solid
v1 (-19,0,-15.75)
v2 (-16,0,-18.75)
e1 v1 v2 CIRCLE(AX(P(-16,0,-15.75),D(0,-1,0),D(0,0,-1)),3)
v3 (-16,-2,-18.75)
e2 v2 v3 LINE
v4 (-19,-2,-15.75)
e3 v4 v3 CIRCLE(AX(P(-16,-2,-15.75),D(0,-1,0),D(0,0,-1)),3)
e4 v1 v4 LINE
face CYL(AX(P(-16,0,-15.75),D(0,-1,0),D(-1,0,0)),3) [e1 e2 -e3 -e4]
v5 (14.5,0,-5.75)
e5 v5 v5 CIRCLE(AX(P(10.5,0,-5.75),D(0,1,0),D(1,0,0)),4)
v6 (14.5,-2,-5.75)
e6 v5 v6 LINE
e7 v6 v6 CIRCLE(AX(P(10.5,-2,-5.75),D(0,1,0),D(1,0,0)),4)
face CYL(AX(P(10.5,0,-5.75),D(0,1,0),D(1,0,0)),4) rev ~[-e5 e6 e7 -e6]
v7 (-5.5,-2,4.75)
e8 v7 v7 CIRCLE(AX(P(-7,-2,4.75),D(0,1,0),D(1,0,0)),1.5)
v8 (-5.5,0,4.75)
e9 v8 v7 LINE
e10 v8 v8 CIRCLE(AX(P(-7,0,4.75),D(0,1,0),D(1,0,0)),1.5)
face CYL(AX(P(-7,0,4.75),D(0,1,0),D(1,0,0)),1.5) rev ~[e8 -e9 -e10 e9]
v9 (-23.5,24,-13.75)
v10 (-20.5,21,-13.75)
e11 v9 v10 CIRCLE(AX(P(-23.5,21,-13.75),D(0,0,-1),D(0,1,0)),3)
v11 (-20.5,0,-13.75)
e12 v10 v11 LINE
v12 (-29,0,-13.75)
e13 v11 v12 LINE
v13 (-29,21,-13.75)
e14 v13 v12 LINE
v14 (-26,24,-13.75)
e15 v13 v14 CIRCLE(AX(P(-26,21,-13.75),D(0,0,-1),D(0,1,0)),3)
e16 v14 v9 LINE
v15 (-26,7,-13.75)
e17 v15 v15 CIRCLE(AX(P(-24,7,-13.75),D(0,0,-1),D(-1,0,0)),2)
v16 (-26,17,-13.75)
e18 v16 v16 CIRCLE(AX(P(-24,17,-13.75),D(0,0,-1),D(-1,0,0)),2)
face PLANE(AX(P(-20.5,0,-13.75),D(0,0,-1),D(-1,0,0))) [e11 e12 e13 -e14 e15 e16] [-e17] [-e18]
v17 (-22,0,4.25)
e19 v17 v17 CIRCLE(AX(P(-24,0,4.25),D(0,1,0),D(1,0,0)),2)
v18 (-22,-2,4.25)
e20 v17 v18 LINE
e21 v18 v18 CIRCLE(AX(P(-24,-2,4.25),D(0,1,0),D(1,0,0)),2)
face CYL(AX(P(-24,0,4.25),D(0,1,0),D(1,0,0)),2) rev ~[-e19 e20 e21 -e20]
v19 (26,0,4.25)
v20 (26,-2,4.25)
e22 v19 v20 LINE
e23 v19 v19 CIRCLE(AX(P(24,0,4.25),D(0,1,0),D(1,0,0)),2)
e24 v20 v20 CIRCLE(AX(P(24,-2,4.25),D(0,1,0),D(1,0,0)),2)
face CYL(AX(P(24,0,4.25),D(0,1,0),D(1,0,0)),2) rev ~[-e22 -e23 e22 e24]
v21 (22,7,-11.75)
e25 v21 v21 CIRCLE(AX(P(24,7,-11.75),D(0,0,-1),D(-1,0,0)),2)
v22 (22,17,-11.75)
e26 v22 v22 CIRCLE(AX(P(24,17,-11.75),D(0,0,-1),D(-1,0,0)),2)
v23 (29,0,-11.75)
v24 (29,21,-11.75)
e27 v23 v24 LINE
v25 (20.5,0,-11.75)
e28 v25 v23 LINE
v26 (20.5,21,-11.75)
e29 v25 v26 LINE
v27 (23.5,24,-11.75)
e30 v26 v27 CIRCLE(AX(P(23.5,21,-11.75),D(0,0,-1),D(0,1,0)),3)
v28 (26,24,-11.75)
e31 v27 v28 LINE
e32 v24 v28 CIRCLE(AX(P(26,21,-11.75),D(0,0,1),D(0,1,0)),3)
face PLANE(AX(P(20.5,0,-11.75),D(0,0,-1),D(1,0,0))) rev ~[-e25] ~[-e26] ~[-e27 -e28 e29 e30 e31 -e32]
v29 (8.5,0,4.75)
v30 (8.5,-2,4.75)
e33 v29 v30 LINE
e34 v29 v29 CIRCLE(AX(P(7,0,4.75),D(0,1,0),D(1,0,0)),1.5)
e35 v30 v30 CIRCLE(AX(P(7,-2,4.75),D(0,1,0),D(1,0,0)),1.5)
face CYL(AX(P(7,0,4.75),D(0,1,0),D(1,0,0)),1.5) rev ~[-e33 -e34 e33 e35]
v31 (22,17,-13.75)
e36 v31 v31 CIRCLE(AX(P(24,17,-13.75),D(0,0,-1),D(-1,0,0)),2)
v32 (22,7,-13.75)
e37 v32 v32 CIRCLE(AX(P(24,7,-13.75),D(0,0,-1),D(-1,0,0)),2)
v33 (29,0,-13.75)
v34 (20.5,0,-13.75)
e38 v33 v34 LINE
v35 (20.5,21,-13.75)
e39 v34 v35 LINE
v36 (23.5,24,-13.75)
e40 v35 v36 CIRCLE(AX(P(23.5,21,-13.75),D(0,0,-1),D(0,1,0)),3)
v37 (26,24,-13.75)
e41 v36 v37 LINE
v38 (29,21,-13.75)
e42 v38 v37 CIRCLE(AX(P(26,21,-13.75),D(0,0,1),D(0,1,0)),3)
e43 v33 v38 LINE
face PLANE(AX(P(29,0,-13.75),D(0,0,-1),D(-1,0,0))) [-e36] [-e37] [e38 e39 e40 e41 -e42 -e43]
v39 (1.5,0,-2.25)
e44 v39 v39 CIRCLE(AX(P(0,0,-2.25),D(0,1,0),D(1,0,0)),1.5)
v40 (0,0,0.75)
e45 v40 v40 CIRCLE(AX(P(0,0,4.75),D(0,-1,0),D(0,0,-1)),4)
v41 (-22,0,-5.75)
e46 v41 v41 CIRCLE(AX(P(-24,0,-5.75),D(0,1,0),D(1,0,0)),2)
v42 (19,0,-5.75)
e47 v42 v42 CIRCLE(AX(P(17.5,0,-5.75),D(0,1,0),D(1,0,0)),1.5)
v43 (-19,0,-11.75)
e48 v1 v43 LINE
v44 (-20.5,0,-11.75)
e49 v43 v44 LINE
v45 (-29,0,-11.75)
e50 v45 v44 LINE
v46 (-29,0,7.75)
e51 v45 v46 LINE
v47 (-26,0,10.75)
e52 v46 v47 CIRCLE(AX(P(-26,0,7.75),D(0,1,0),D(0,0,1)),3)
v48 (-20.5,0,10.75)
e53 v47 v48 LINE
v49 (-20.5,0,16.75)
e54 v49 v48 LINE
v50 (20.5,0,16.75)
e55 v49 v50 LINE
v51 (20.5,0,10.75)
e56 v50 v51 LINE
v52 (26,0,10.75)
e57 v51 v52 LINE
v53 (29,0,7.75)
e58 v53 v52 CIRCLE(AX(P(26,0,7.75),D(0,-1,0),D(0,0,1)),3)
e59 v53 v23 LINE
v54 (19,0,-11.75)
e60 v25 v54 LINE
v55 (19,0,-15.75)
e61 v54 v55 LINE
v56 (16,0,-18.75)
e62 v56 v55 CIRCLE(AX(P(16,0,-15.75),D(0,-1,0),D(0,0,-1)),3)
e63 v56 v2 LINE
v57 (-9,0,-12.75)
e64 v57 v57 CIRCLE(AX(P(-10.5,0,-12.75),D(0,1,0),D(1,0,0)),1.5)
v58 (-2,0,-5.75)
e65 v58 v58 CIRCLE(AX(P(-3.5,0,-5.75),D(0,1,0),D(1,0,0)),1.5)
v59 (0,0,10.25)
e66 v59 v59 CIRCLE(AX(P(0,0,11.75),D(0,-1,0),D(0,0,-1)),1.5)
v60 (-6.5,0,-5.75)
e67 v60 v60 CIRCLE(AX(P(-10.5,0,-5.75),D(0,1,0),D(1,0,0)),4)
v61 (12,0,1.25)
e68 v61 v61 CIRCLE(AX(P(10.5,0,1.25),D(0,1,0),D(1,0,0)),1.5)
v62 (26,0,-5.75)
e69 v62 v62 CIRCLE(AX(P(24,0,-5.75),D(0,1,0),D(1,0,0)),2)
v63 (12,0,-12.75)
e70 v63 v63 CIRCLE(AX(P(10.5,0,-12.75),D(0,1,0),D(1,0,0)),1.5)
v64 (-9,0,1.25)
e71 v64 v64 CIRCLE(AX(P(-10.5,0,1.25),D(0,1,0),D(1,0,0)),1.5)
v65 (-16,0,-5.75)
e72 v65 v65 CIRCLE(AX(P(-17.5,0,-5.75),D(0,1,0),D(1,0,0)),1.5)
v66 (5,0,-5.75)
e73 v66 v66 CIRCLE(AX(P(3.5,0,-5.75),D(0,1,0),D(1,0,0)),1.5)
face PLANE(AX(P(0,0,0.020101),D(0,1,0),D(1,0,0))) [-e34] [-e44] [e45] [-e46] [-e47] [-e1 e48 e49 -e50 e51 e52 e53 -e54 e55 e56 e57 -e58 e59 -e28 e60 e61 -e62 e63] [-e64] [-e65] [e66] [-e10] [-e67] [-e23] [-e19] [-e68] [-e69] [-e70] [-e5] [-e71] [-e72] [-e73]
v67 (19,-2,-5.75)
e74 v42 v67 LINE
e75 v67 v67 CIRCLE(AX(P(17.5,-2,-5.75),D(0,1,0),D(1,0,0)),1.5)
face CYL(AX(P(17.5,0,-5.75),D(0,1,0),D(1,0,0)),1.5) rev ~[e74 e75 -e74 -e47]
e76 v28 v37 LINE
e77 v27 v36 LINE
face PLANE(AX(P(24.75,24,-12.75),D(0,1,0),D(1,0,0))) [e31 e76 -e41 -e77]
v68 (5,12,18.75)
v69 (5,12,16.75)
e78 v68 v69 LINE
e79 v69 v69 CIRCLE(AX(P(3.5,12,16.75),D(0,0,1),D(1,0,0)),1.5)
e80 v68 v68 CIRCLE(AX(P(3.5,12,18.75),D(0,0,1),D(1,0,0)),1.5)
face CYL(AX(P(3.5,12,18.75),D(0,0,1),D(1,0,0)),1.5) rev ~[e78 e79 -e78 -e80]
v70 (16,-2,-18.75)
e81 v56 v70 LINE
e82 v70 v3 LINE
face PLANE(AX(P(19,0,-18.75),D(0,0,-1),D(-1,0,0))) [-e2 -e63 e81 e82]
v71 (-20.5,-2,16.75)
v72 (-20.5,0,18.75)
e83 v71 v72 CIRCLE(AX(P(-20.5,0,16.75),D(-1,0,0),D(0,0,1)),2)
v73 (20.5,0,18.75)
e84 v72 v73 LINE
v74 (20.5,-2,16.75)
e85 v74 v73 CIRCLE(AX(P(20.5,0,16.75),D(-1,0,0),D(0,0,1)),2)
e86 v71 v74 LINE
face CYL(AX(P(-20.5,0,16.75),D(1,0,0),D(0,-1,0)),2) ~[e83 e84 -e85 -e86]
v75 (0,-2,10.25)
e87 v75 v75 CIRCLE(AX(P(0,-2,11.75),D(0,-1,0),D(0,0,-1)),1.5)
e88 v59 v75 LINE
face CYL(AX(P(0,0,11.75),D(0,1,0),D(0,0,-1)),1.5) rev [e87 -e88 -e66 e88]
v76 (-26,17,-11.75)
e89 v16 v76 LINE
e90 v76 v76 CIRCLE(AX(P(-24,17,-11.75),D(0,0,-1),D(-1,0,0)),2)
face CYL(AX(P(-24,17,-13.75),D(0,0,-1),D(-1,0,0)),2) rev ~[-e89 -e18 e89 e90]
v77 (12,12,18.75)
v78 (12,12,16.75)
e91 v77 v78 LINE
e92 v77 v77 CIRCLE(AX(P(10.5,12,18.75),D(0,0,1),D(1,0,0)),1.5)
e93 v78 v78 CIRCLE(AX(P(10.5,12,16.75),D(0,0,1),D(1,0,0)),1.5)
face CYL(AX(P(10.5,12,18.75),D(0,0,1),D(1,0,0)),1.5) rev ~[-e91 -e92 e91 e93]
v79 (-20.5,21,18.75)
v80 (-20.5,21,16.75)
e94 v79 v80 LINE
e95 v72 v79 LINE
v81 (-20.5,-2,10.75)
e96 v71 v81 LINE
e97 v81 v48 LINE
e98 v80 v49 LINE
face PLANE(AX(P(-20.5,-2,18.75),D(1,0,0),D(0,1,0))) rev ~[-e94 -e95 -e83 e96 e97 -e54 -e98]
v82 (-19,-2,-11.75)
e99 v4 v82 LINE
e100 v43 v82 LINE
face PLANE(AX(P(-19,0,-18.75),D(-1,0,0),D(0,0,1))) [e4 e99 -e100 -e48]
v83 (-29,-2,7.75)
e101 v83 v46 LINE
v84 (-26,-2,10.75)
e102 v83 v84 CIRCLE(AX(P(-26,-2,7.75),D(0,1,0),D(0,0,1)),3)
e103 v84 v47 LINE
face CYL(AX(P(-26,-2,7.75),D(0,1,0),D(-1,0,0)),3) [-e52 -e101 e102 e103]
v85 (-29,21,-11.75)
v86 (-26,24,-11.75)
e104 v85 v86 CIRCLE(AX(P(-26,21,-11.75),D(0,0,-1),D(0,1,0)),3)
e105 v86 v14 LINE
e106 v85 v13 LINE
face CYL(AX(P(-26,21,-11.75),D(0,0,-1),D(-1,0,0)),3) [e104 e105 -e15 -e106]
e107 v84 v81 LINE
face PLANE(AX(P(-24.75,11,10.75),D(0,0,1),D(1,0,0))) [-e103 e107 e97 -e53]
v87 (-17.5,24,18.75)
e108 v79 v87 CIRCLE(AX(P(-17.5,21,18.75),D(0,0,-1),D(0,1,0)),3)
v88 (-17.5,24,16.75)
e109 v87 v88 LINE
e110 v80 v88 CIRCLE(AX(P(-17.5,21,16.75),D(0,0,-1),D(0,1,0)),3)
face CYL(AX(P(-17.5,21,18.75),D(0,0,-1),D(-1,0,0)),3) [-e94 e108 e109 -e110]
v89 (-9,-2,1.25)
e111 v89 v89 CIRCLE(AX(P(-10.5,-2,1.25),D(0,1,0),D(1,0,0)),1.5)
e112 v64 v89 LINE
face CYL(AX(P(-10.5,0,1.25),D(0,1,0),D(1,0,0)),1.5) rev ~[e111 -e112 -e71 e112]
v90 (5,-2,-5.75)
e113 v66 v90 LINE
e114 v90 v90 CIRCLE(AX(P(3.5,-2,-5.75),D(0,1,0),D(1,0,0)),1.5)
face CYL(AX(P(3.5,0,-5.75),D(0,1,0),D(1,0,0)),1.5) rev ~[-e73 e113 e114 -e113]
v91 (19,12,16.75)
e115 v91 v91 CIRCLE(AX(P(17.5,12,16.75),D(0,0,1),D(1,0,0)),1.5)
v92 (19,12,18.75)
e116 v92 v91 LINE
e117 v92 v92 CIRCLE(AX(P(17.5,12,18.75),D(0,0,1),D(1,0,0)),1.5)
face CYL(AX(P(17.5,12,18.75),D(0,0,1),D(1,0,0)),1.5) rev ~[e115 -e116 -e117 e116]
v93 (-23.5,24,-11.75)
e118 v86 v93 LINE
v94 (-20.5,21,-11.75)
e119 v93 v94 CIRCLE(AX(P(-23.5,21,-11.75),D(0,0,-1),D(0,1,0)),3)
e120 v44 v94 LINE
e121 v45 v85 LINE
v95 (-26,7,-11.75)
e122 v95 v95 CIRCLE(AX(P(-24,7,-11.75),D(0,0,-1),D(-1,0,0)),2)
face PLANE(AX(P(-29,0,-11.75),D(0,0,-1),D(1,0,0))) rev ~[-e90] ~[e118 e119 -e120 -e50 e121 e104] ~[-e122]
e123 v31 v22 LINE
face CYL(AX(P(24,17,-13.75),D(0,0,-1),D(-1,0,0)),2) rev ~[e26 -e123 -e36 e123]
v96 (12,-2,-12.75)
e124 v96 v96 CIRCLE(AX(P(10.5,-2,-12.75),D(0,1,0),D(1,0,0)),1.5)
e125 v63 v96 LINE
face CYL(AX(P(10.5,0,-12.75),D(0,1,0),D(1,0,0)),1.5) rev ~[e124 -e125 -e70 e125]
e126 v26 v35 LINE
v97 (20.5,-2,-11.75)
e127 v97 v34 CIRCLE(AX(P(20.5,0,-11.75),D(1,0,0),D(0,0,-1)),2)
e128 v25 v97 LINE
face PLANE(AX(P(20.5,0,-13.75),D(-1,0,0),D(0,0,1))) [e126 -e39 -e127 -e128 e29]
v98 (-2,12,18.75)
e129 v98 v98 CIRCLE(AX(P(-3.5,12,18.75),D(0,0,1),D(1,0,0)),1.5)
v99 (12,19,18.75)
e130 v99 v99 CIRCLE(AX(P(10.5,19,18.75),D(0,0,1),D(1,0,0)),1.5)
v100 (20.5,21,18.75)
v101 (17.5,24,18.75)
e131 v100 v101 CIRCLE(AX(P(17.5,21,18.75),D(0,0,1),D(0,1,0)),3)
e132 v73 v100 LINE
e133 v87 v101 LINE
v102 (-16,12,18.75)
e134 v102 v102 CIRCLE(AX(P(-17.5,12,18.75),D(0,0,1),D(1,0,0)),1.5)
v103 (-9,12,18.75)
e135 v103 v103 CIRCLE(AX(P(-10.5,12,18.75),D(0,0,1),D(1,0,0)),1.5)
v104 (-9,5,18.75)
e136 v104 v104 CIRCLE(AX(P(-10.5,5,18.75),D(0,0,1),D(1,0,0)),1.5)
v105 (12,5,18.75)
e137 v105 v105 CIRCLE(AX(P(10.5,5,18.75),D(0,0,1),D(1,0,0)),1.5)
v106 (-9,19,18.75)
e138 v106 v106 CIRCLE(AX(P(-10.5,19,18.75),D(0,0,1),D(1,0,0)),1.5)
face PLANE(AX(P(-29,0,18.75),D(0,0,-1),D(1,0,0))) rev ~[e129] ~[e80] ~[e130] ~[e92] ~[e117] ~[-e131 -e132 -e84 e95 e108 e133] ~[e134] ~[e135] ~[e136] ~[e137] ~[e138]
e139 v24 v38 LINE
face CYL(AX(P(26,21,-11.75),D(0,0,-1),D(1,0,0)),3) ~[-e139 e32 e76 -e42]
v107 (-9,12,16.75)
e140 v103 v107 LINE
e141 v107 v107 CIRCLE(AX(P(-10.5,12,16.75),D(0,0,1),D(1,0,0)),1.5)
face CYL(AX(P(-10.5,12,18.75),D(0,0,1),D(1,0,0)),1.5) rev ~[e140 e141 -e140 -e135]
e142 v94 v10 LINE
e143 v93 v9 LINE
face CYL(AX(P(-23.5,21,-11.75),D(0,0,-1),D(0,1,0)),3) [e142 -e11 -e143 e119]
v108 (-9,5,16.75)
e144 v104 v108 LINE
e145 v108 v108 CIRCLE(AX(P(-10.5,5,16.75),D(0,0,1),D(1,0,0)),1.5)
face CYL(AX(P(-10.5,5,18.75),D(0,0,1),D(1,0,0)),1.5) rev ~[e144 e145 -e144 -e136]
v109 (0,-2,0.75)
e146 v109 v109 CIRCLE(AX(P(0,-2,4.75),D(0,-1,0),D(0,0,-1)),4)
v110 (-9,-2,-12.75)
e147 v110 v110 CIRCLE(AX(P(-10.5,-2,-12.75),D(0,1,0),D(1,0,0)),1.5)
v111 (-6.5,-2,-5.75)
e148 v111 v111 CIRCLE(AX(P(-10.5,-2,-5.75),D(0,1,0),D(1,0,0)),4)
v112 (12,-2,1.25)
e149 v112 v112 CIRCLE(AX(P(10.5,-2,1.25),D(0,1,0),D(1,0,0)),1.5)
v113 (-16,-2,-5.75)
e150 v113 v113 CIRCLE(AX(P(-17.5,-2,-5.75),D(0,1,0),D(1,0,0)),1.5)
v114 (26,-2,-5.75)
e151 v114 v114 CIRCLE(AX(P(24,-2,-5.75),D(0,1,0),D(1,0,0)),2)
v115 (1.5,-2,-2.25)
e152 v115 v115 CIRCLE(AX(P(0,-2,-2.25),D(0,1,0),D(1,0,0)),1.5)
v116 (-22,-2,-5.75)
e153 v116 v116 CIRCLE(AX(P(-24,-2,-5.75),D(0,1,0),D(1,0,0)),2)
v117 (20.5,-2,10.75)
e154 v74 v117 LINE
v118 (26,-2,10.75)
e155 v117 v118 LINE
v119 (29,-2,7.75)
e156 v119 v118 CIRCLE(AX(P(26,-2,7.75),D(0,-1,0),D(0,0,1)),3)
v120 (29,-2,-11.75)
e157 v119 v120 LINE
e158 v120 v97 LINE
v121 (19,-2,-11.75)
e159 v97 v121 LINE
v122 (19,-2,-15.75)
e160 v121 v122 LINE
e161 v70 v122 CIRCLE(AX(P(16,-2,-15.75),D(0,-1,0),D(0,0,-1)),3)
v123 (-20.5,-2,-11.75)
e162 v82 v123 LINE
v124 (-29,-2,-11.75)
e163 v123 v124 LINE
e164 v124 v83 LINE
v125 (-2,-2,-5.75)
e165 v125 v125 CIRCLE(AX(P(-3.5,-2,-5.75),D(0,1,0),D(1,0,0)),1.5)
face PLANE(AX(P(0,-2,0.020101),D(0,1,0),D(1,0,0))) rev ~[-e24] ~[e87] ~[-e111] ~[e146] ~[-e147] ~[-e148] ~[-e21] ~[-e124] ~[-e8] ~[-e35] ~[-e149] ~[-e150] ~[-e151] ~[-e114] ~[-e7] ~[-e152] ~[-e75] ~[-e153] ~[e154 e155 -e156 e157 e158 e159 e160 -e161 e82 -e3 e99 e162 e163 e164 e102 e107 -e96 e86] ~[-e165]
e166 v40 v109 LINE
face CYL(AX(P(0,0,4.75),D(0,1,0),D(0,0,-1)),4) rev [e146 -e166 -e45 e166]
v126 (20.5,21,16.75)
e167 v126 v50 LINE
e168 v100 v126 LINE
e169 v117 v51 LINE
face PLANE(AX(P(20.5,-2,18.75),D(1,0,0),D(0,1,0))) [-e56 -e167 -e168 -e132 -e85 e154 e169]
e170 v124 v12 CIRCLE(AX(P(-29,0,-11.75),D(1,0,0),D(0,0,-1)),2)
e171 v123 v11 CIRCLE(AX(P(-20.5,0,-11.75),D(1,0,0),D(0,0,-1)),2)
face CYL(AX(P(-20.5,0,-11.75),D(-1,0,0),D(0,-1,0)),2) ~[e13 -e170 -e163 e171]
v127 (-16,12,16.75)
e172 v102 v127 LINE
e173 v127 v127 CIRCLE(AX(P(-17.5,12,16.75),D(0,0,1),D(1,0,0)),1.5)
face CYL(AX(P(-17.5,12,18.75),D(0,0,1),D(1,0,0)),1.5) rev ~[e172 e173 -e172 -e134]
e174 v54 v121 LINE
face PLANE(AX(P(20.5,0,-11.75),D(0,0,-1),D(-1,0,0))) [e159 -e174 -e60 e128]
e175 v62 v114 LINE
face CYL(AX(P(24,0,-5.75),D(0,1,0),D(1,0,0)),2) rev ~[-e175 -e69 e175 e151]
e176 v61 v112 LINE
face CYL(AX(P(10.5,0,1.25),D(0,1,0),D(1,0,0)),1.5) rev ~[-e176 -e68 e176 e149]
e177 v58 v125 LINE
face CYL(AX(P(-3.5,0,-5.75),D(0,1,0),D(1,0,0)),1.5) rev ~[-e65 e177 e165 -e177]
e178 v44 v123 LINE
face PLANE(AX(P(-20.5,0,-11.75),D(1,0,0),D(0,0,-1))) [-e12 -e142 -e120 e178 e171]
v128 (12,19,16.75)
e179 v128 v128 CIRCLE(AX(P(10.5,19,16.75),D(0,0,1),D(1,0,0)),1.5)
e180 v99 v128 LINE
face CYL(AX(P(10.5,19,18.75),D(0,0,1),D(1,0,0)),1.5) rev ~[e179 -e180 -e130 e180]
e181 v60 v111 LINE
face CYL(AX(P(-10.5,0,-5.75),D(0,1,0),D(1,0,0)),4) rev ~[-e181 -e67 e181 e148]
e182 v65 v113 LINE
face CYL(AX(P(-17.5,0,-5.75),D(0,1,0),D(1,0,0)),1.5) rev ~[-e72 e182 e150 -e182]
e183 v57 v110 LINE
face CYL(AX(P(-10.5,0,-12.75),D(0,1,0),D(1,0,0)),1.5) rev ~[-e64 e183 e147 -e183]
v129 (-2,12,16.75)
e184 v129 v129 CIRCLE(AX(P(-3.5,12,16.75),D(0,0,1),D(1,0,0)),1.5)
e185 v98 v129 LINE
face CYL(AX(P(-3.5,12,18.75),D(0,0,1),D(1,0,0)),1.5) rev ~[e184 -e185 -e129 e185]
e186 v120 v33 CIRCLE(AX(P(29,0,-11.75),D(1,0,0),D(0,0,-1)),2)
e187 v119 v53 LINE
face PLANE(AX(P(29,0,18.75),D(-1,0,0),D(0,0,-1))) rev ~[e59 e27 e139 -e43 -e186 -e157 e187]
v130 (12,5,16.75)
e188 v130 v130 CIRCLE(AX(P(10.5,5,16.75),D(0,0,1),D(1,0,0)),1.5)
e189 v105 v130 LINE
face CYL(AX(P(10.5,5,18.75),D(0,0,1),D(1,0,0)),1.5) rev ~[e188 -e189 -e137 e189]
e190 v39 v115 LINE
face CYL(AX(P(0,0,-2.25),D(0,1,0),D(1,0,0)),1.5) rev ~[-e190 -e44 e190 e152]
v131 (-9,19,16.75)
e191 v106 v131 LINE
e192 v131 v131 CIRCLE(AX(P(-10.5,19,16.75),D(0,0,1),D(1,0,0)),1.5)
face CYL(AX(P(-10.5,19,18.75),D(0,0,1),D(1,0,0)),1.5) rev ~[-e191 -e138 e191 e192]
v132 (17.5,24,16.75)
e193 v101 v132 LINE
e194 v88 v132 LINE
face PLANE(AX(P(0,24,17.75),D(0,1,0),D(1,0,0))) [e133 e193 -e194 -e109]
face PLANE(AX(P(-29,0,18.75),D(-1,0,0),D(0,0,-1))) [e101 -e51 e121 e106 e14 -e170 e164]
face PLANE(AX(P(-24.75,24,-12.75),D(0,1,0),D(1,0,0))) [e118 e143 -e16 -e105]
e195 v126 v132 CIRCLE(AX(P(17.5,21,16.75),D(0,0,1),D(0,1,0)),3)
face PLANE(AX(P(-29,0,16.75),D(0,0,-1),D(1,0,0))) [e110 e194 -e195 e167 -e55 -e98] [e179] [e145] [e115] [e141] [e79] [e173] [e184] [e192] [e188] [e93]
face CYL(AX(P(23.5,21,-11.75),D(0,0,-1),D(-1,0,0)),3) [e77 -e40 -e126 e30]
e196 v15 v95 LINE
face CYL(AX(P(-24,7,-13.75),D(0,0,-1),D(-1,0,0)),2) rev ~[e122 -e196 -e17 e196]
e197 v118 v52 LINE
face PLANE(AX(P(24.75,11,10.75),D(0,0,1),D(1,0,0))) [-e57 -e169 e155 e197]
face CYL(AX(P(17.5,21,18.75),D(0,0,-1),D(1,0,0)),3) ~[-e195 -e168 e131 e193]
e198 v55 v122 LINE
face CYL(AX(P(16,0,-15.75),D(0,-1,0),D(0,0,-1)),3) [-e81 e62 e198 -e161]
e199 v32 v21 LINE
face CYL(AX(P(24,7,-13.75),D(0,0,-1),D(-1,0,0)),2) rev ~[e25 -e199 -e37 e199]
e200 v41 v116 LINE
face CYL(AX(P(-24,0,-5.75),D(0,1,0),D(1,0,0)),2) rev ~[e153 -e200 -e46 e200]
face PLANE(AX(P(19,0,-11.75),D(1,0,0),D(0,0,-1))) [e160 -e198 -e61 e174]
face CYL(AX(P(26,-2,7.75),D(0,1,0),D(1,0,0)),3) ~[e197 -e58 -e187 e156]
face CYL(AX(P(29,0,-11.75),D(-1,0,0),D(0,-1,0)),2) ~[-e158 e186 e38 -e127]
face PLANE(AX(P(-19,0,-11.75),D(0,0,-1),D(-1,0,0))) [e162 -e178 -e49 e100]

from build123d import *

# Parameters (mm, degrees)
SKETCH_2_R          = 2
SKETCH_2_R_2        = 1.5
SKETCH_2_R_3        = 4
EXTRUDE_1_DEPTH     = 2
SKETCH_1_W          = 58
SKETCH_1_H          = 2
SKETCH_1_W_2        = 8.5
EXTRUDE_2_DEPTH     = 24
SKETCH_3_R          = 2
CUT_EXTRUDE_1_DEPTH = 12
FILLET_1_R          = 3
SKETCH_4_R          = 1.5
CUT_EXTRUDE_2_DEPTH = 12
SKETCH_5_W          = 8.5
SKETCH_5_H          = 26
CUT_EXTRUDE_3_DEPTH = 8
FILLET_2_R          = 3
FILLET_3_R          = 2


with BuildPart() as part:
    # 草图2 → 凸台-拉伸1 (new body)
    with BuildSketch(Plane(origin=(0, 0, 0), x_dir=(1, 0, 0), z_dir=(0, 1, 0))):
        Polygon((-29, -18.75), (29, -18.75), (29, 13.75), (20.5, 13.75), (20.5, 11.75), (19, 11.75), (19, 18.75), (-19, 18.75), (-19, 11.75), (-20.5, 11.75), (-20.5, 13.75), (-29, 13.75), align=None)
        with BuildLine():
            ThreePointArc((0, -13.25), (-1.5, -11.75), (0, -10.25))
            ThreePointArc((0, -10.25), (1.5, -11.75), (0, -13.25))
        make_face(mode=Mode.SUBTRACT)
        with Locations((-24, -4.25)):
            Circle(SKETCH_2_R, mode=Mode.SUBTRACT)
        with Locations((-7, -4.75)):
            Circle(SKETCH_2_R_2, mode=Mode.SUBTRACT)
        with BuildLine():
            ThreePointArc((0, -8.75), (-4, -4.75), (0, -0.75))
            ThreePointArc((0, -0.75), (4, -4.75), (0, -8.75))
        make_face(mode=Mode.SUBTRACT)
        with Locations((-10.5, -1.25)):
            Circle(SKETCH_2_R_2, mode=Mode.SUBTRACT)
        with Locations((7, -4.75)):
            Circle(SKETCH_2_R_2, mode=Mode.SUBTRACT)
        with Locations((10.5, -1.25)):
            Circle(SKETCH_2_R_2, mode=Mode.SUBTRACT)
        with Locations((24, -4.25)):
            Circle(SKETCH_2_R, mode=Mode.SUBTRACT)
        with Locations((-24, 5.75)):
            Circle(SKETCH_2_R, mode=Mode.SUBTRACT)
        with Locations((-17.5, 5.75)):
            Circle(SKETCH_2_R_2, mode=Mode.SUBTRACT)
        with Locations((0, 2.25)):
            Circle(SKETCH_2_R_2, mode=Mode.SUBTRACT)
        with Locations((-10.5, 5.75)):
            Circle(SKETCH_2_R_3, mode=Mode.SUBTRACT)
        with Locations((-3.5, 5.75)):
            Circle(SKETCH_2_R_2, mode=Mode.SUBTRACT)
        with Locations((-10.5, 12.75)):
            Circle(SKETCH_2_R_2, mode=Mode.SUBTRACT)
        with Locations((3.5, 5.75)):
            Circle(SKETCH_2_R_2, mode=Mode.SUBTRACT)
        with Locations((10.5, 5.75)):
            Circle(SKETCH_2_R_3, mode=Mode.SUBTRACT)
        with Locations((17.5, 5.75)):
            Circle(SKETCH_2_R_2, mode=Mode.SUBTRACT)
        with Locations((24, 5.75)):
            Circle(SKETCH_2_R, mode=Mode.SUBTRACT)
        with Locations((10.5, 12.75)):
            Circle(SKETCH_2_R_2, mode=Mode.SUBTRACT)
    extrude(amount=-EXTRUDE_1_DEPTH)

    # 草图1 → 凸台-拉伸2 (add)
    with BuildSketch(Plane(origin=(0, 0, 0), x_dir=(1, 0, 0), z_dir=(0, 1, 0))):
        with Locations((0, -17.75)):
            Rectangle(SKETCH_1_W, SKETCH_1_H)
        with Locations((-24.75, 12.75)):
            Rectangle(SKETCH_1_W_2, SKETCH_1_H)
        with Locations((24.75, 12.75)):
            Rectangle(SKETCH_1_W_2, SKETCH_1_H)
    extrude(amount=EXTRUDE_2_DEPTH)

    # 草图3 → 切除-拉伸1 (cut)
    with BuildSketch(Plane(origin=(0, 0, -13.75), x_dir=(-1, 0, 0), z_dir=(0, 0, -1))):
        with Locations((-24, 17)):
            Circle(SKETCH_3_R)
        with Locations((24, 17)):
            Circle(SKETCH_3_R)
        with Locations((24, 7)):
            Circle(SKETCH_3_R)
        with Locations((-24, 7)):
            Circle(SKETCH_3_R)
    extrude(amount=-CUT_EXTRUDE_1_DEPTH, mode=Mode.SUBTRACT)

    # 圆角1
    fillet_1_edges = [part.edges().sort_by_distance(p)[0] for p in [
        (29, 24, -12.75),
        (20.5, 24, -12.75),
        (-20.5, 24, -12.75),
        (-29, 24, -12.75),
    ]]
    fillet(fillet_1_edges, radius=FILLET_1_R)

    # 草图4 → 切除-拉伸2 (cut)
    with BuildSketch(Plane.XY.offset(18.75)):
        with Locations((10.5, 12)):
            Circle(SKETCH_4_R)
        with Locations((-10.5, 12)):
            Circle(SKETCH_4_R)
        with Locations((-17.5, 12)):
            Circle(SKETCH_4_R)
        with Locations((-10.5, 19)):
            Circle(SKETCH_4_R)
        with Locations((-3.5, 12)):
            Circle(SKETCH_4_R)
        with Locations((-10.5, 5)):
            Circle(SKETCH_4_R)
        with Locations((17.5, 12)):
            Circle(SKETCH_4_R)
        with Locations((10.5, 5)):
            Circle(SKETCH_4_R)
        with Locations((3.5, 12)):
            Circle(SKETCH_4_R)
        with Locations((10.5, 19)):
            Circle(SKETCH_4_R)
    extrude(amount=-CUT_EXTRUDE_2_DEPTH, mode=Mode.SUBTRACT)

    # 草图5 → 切除-拉伸3 (cut)
    with BuildSketch(Plane.XY.offset(18.75)):
        with Locations((-24.75, 11)):
            Rectangle(SKETCH_5_W, SKETCH_5_H)
        with Locations((24.75, 11)):
            Rectangle(SKETCH_5_W, SKETCH_5_H)
    extrude(amount=-CUT_EXTRUDE_3_DEPTH, mode=Mode.SUBTRACT)

    # 圆角2
    fillet_2_edges = [part.edges().sort_by_distance(p)[0] for p in [
        (19, -1, -18.75),
        (-19, -1, -18.75),
        (-20.5, 24, 17.75),
        (20.5, 24, 17.75),
        (29, -1, 10.75),
        (-29, -1, 10.75),
    ]]
    fillet(fillet_2_edges, radius=FILLET_2_R)

    # 圆角3
    fillet_3_edges = [part.edges().sort_by_distance(p)[0] for p in [
        (0, -2, 18.75),
        (-24.75, -2, -13.75),
        (24.75, -2, -13.75),
    ]]
    fillet(fillet_3_edges, radius=FILLET_3_R)


solid = part.part
